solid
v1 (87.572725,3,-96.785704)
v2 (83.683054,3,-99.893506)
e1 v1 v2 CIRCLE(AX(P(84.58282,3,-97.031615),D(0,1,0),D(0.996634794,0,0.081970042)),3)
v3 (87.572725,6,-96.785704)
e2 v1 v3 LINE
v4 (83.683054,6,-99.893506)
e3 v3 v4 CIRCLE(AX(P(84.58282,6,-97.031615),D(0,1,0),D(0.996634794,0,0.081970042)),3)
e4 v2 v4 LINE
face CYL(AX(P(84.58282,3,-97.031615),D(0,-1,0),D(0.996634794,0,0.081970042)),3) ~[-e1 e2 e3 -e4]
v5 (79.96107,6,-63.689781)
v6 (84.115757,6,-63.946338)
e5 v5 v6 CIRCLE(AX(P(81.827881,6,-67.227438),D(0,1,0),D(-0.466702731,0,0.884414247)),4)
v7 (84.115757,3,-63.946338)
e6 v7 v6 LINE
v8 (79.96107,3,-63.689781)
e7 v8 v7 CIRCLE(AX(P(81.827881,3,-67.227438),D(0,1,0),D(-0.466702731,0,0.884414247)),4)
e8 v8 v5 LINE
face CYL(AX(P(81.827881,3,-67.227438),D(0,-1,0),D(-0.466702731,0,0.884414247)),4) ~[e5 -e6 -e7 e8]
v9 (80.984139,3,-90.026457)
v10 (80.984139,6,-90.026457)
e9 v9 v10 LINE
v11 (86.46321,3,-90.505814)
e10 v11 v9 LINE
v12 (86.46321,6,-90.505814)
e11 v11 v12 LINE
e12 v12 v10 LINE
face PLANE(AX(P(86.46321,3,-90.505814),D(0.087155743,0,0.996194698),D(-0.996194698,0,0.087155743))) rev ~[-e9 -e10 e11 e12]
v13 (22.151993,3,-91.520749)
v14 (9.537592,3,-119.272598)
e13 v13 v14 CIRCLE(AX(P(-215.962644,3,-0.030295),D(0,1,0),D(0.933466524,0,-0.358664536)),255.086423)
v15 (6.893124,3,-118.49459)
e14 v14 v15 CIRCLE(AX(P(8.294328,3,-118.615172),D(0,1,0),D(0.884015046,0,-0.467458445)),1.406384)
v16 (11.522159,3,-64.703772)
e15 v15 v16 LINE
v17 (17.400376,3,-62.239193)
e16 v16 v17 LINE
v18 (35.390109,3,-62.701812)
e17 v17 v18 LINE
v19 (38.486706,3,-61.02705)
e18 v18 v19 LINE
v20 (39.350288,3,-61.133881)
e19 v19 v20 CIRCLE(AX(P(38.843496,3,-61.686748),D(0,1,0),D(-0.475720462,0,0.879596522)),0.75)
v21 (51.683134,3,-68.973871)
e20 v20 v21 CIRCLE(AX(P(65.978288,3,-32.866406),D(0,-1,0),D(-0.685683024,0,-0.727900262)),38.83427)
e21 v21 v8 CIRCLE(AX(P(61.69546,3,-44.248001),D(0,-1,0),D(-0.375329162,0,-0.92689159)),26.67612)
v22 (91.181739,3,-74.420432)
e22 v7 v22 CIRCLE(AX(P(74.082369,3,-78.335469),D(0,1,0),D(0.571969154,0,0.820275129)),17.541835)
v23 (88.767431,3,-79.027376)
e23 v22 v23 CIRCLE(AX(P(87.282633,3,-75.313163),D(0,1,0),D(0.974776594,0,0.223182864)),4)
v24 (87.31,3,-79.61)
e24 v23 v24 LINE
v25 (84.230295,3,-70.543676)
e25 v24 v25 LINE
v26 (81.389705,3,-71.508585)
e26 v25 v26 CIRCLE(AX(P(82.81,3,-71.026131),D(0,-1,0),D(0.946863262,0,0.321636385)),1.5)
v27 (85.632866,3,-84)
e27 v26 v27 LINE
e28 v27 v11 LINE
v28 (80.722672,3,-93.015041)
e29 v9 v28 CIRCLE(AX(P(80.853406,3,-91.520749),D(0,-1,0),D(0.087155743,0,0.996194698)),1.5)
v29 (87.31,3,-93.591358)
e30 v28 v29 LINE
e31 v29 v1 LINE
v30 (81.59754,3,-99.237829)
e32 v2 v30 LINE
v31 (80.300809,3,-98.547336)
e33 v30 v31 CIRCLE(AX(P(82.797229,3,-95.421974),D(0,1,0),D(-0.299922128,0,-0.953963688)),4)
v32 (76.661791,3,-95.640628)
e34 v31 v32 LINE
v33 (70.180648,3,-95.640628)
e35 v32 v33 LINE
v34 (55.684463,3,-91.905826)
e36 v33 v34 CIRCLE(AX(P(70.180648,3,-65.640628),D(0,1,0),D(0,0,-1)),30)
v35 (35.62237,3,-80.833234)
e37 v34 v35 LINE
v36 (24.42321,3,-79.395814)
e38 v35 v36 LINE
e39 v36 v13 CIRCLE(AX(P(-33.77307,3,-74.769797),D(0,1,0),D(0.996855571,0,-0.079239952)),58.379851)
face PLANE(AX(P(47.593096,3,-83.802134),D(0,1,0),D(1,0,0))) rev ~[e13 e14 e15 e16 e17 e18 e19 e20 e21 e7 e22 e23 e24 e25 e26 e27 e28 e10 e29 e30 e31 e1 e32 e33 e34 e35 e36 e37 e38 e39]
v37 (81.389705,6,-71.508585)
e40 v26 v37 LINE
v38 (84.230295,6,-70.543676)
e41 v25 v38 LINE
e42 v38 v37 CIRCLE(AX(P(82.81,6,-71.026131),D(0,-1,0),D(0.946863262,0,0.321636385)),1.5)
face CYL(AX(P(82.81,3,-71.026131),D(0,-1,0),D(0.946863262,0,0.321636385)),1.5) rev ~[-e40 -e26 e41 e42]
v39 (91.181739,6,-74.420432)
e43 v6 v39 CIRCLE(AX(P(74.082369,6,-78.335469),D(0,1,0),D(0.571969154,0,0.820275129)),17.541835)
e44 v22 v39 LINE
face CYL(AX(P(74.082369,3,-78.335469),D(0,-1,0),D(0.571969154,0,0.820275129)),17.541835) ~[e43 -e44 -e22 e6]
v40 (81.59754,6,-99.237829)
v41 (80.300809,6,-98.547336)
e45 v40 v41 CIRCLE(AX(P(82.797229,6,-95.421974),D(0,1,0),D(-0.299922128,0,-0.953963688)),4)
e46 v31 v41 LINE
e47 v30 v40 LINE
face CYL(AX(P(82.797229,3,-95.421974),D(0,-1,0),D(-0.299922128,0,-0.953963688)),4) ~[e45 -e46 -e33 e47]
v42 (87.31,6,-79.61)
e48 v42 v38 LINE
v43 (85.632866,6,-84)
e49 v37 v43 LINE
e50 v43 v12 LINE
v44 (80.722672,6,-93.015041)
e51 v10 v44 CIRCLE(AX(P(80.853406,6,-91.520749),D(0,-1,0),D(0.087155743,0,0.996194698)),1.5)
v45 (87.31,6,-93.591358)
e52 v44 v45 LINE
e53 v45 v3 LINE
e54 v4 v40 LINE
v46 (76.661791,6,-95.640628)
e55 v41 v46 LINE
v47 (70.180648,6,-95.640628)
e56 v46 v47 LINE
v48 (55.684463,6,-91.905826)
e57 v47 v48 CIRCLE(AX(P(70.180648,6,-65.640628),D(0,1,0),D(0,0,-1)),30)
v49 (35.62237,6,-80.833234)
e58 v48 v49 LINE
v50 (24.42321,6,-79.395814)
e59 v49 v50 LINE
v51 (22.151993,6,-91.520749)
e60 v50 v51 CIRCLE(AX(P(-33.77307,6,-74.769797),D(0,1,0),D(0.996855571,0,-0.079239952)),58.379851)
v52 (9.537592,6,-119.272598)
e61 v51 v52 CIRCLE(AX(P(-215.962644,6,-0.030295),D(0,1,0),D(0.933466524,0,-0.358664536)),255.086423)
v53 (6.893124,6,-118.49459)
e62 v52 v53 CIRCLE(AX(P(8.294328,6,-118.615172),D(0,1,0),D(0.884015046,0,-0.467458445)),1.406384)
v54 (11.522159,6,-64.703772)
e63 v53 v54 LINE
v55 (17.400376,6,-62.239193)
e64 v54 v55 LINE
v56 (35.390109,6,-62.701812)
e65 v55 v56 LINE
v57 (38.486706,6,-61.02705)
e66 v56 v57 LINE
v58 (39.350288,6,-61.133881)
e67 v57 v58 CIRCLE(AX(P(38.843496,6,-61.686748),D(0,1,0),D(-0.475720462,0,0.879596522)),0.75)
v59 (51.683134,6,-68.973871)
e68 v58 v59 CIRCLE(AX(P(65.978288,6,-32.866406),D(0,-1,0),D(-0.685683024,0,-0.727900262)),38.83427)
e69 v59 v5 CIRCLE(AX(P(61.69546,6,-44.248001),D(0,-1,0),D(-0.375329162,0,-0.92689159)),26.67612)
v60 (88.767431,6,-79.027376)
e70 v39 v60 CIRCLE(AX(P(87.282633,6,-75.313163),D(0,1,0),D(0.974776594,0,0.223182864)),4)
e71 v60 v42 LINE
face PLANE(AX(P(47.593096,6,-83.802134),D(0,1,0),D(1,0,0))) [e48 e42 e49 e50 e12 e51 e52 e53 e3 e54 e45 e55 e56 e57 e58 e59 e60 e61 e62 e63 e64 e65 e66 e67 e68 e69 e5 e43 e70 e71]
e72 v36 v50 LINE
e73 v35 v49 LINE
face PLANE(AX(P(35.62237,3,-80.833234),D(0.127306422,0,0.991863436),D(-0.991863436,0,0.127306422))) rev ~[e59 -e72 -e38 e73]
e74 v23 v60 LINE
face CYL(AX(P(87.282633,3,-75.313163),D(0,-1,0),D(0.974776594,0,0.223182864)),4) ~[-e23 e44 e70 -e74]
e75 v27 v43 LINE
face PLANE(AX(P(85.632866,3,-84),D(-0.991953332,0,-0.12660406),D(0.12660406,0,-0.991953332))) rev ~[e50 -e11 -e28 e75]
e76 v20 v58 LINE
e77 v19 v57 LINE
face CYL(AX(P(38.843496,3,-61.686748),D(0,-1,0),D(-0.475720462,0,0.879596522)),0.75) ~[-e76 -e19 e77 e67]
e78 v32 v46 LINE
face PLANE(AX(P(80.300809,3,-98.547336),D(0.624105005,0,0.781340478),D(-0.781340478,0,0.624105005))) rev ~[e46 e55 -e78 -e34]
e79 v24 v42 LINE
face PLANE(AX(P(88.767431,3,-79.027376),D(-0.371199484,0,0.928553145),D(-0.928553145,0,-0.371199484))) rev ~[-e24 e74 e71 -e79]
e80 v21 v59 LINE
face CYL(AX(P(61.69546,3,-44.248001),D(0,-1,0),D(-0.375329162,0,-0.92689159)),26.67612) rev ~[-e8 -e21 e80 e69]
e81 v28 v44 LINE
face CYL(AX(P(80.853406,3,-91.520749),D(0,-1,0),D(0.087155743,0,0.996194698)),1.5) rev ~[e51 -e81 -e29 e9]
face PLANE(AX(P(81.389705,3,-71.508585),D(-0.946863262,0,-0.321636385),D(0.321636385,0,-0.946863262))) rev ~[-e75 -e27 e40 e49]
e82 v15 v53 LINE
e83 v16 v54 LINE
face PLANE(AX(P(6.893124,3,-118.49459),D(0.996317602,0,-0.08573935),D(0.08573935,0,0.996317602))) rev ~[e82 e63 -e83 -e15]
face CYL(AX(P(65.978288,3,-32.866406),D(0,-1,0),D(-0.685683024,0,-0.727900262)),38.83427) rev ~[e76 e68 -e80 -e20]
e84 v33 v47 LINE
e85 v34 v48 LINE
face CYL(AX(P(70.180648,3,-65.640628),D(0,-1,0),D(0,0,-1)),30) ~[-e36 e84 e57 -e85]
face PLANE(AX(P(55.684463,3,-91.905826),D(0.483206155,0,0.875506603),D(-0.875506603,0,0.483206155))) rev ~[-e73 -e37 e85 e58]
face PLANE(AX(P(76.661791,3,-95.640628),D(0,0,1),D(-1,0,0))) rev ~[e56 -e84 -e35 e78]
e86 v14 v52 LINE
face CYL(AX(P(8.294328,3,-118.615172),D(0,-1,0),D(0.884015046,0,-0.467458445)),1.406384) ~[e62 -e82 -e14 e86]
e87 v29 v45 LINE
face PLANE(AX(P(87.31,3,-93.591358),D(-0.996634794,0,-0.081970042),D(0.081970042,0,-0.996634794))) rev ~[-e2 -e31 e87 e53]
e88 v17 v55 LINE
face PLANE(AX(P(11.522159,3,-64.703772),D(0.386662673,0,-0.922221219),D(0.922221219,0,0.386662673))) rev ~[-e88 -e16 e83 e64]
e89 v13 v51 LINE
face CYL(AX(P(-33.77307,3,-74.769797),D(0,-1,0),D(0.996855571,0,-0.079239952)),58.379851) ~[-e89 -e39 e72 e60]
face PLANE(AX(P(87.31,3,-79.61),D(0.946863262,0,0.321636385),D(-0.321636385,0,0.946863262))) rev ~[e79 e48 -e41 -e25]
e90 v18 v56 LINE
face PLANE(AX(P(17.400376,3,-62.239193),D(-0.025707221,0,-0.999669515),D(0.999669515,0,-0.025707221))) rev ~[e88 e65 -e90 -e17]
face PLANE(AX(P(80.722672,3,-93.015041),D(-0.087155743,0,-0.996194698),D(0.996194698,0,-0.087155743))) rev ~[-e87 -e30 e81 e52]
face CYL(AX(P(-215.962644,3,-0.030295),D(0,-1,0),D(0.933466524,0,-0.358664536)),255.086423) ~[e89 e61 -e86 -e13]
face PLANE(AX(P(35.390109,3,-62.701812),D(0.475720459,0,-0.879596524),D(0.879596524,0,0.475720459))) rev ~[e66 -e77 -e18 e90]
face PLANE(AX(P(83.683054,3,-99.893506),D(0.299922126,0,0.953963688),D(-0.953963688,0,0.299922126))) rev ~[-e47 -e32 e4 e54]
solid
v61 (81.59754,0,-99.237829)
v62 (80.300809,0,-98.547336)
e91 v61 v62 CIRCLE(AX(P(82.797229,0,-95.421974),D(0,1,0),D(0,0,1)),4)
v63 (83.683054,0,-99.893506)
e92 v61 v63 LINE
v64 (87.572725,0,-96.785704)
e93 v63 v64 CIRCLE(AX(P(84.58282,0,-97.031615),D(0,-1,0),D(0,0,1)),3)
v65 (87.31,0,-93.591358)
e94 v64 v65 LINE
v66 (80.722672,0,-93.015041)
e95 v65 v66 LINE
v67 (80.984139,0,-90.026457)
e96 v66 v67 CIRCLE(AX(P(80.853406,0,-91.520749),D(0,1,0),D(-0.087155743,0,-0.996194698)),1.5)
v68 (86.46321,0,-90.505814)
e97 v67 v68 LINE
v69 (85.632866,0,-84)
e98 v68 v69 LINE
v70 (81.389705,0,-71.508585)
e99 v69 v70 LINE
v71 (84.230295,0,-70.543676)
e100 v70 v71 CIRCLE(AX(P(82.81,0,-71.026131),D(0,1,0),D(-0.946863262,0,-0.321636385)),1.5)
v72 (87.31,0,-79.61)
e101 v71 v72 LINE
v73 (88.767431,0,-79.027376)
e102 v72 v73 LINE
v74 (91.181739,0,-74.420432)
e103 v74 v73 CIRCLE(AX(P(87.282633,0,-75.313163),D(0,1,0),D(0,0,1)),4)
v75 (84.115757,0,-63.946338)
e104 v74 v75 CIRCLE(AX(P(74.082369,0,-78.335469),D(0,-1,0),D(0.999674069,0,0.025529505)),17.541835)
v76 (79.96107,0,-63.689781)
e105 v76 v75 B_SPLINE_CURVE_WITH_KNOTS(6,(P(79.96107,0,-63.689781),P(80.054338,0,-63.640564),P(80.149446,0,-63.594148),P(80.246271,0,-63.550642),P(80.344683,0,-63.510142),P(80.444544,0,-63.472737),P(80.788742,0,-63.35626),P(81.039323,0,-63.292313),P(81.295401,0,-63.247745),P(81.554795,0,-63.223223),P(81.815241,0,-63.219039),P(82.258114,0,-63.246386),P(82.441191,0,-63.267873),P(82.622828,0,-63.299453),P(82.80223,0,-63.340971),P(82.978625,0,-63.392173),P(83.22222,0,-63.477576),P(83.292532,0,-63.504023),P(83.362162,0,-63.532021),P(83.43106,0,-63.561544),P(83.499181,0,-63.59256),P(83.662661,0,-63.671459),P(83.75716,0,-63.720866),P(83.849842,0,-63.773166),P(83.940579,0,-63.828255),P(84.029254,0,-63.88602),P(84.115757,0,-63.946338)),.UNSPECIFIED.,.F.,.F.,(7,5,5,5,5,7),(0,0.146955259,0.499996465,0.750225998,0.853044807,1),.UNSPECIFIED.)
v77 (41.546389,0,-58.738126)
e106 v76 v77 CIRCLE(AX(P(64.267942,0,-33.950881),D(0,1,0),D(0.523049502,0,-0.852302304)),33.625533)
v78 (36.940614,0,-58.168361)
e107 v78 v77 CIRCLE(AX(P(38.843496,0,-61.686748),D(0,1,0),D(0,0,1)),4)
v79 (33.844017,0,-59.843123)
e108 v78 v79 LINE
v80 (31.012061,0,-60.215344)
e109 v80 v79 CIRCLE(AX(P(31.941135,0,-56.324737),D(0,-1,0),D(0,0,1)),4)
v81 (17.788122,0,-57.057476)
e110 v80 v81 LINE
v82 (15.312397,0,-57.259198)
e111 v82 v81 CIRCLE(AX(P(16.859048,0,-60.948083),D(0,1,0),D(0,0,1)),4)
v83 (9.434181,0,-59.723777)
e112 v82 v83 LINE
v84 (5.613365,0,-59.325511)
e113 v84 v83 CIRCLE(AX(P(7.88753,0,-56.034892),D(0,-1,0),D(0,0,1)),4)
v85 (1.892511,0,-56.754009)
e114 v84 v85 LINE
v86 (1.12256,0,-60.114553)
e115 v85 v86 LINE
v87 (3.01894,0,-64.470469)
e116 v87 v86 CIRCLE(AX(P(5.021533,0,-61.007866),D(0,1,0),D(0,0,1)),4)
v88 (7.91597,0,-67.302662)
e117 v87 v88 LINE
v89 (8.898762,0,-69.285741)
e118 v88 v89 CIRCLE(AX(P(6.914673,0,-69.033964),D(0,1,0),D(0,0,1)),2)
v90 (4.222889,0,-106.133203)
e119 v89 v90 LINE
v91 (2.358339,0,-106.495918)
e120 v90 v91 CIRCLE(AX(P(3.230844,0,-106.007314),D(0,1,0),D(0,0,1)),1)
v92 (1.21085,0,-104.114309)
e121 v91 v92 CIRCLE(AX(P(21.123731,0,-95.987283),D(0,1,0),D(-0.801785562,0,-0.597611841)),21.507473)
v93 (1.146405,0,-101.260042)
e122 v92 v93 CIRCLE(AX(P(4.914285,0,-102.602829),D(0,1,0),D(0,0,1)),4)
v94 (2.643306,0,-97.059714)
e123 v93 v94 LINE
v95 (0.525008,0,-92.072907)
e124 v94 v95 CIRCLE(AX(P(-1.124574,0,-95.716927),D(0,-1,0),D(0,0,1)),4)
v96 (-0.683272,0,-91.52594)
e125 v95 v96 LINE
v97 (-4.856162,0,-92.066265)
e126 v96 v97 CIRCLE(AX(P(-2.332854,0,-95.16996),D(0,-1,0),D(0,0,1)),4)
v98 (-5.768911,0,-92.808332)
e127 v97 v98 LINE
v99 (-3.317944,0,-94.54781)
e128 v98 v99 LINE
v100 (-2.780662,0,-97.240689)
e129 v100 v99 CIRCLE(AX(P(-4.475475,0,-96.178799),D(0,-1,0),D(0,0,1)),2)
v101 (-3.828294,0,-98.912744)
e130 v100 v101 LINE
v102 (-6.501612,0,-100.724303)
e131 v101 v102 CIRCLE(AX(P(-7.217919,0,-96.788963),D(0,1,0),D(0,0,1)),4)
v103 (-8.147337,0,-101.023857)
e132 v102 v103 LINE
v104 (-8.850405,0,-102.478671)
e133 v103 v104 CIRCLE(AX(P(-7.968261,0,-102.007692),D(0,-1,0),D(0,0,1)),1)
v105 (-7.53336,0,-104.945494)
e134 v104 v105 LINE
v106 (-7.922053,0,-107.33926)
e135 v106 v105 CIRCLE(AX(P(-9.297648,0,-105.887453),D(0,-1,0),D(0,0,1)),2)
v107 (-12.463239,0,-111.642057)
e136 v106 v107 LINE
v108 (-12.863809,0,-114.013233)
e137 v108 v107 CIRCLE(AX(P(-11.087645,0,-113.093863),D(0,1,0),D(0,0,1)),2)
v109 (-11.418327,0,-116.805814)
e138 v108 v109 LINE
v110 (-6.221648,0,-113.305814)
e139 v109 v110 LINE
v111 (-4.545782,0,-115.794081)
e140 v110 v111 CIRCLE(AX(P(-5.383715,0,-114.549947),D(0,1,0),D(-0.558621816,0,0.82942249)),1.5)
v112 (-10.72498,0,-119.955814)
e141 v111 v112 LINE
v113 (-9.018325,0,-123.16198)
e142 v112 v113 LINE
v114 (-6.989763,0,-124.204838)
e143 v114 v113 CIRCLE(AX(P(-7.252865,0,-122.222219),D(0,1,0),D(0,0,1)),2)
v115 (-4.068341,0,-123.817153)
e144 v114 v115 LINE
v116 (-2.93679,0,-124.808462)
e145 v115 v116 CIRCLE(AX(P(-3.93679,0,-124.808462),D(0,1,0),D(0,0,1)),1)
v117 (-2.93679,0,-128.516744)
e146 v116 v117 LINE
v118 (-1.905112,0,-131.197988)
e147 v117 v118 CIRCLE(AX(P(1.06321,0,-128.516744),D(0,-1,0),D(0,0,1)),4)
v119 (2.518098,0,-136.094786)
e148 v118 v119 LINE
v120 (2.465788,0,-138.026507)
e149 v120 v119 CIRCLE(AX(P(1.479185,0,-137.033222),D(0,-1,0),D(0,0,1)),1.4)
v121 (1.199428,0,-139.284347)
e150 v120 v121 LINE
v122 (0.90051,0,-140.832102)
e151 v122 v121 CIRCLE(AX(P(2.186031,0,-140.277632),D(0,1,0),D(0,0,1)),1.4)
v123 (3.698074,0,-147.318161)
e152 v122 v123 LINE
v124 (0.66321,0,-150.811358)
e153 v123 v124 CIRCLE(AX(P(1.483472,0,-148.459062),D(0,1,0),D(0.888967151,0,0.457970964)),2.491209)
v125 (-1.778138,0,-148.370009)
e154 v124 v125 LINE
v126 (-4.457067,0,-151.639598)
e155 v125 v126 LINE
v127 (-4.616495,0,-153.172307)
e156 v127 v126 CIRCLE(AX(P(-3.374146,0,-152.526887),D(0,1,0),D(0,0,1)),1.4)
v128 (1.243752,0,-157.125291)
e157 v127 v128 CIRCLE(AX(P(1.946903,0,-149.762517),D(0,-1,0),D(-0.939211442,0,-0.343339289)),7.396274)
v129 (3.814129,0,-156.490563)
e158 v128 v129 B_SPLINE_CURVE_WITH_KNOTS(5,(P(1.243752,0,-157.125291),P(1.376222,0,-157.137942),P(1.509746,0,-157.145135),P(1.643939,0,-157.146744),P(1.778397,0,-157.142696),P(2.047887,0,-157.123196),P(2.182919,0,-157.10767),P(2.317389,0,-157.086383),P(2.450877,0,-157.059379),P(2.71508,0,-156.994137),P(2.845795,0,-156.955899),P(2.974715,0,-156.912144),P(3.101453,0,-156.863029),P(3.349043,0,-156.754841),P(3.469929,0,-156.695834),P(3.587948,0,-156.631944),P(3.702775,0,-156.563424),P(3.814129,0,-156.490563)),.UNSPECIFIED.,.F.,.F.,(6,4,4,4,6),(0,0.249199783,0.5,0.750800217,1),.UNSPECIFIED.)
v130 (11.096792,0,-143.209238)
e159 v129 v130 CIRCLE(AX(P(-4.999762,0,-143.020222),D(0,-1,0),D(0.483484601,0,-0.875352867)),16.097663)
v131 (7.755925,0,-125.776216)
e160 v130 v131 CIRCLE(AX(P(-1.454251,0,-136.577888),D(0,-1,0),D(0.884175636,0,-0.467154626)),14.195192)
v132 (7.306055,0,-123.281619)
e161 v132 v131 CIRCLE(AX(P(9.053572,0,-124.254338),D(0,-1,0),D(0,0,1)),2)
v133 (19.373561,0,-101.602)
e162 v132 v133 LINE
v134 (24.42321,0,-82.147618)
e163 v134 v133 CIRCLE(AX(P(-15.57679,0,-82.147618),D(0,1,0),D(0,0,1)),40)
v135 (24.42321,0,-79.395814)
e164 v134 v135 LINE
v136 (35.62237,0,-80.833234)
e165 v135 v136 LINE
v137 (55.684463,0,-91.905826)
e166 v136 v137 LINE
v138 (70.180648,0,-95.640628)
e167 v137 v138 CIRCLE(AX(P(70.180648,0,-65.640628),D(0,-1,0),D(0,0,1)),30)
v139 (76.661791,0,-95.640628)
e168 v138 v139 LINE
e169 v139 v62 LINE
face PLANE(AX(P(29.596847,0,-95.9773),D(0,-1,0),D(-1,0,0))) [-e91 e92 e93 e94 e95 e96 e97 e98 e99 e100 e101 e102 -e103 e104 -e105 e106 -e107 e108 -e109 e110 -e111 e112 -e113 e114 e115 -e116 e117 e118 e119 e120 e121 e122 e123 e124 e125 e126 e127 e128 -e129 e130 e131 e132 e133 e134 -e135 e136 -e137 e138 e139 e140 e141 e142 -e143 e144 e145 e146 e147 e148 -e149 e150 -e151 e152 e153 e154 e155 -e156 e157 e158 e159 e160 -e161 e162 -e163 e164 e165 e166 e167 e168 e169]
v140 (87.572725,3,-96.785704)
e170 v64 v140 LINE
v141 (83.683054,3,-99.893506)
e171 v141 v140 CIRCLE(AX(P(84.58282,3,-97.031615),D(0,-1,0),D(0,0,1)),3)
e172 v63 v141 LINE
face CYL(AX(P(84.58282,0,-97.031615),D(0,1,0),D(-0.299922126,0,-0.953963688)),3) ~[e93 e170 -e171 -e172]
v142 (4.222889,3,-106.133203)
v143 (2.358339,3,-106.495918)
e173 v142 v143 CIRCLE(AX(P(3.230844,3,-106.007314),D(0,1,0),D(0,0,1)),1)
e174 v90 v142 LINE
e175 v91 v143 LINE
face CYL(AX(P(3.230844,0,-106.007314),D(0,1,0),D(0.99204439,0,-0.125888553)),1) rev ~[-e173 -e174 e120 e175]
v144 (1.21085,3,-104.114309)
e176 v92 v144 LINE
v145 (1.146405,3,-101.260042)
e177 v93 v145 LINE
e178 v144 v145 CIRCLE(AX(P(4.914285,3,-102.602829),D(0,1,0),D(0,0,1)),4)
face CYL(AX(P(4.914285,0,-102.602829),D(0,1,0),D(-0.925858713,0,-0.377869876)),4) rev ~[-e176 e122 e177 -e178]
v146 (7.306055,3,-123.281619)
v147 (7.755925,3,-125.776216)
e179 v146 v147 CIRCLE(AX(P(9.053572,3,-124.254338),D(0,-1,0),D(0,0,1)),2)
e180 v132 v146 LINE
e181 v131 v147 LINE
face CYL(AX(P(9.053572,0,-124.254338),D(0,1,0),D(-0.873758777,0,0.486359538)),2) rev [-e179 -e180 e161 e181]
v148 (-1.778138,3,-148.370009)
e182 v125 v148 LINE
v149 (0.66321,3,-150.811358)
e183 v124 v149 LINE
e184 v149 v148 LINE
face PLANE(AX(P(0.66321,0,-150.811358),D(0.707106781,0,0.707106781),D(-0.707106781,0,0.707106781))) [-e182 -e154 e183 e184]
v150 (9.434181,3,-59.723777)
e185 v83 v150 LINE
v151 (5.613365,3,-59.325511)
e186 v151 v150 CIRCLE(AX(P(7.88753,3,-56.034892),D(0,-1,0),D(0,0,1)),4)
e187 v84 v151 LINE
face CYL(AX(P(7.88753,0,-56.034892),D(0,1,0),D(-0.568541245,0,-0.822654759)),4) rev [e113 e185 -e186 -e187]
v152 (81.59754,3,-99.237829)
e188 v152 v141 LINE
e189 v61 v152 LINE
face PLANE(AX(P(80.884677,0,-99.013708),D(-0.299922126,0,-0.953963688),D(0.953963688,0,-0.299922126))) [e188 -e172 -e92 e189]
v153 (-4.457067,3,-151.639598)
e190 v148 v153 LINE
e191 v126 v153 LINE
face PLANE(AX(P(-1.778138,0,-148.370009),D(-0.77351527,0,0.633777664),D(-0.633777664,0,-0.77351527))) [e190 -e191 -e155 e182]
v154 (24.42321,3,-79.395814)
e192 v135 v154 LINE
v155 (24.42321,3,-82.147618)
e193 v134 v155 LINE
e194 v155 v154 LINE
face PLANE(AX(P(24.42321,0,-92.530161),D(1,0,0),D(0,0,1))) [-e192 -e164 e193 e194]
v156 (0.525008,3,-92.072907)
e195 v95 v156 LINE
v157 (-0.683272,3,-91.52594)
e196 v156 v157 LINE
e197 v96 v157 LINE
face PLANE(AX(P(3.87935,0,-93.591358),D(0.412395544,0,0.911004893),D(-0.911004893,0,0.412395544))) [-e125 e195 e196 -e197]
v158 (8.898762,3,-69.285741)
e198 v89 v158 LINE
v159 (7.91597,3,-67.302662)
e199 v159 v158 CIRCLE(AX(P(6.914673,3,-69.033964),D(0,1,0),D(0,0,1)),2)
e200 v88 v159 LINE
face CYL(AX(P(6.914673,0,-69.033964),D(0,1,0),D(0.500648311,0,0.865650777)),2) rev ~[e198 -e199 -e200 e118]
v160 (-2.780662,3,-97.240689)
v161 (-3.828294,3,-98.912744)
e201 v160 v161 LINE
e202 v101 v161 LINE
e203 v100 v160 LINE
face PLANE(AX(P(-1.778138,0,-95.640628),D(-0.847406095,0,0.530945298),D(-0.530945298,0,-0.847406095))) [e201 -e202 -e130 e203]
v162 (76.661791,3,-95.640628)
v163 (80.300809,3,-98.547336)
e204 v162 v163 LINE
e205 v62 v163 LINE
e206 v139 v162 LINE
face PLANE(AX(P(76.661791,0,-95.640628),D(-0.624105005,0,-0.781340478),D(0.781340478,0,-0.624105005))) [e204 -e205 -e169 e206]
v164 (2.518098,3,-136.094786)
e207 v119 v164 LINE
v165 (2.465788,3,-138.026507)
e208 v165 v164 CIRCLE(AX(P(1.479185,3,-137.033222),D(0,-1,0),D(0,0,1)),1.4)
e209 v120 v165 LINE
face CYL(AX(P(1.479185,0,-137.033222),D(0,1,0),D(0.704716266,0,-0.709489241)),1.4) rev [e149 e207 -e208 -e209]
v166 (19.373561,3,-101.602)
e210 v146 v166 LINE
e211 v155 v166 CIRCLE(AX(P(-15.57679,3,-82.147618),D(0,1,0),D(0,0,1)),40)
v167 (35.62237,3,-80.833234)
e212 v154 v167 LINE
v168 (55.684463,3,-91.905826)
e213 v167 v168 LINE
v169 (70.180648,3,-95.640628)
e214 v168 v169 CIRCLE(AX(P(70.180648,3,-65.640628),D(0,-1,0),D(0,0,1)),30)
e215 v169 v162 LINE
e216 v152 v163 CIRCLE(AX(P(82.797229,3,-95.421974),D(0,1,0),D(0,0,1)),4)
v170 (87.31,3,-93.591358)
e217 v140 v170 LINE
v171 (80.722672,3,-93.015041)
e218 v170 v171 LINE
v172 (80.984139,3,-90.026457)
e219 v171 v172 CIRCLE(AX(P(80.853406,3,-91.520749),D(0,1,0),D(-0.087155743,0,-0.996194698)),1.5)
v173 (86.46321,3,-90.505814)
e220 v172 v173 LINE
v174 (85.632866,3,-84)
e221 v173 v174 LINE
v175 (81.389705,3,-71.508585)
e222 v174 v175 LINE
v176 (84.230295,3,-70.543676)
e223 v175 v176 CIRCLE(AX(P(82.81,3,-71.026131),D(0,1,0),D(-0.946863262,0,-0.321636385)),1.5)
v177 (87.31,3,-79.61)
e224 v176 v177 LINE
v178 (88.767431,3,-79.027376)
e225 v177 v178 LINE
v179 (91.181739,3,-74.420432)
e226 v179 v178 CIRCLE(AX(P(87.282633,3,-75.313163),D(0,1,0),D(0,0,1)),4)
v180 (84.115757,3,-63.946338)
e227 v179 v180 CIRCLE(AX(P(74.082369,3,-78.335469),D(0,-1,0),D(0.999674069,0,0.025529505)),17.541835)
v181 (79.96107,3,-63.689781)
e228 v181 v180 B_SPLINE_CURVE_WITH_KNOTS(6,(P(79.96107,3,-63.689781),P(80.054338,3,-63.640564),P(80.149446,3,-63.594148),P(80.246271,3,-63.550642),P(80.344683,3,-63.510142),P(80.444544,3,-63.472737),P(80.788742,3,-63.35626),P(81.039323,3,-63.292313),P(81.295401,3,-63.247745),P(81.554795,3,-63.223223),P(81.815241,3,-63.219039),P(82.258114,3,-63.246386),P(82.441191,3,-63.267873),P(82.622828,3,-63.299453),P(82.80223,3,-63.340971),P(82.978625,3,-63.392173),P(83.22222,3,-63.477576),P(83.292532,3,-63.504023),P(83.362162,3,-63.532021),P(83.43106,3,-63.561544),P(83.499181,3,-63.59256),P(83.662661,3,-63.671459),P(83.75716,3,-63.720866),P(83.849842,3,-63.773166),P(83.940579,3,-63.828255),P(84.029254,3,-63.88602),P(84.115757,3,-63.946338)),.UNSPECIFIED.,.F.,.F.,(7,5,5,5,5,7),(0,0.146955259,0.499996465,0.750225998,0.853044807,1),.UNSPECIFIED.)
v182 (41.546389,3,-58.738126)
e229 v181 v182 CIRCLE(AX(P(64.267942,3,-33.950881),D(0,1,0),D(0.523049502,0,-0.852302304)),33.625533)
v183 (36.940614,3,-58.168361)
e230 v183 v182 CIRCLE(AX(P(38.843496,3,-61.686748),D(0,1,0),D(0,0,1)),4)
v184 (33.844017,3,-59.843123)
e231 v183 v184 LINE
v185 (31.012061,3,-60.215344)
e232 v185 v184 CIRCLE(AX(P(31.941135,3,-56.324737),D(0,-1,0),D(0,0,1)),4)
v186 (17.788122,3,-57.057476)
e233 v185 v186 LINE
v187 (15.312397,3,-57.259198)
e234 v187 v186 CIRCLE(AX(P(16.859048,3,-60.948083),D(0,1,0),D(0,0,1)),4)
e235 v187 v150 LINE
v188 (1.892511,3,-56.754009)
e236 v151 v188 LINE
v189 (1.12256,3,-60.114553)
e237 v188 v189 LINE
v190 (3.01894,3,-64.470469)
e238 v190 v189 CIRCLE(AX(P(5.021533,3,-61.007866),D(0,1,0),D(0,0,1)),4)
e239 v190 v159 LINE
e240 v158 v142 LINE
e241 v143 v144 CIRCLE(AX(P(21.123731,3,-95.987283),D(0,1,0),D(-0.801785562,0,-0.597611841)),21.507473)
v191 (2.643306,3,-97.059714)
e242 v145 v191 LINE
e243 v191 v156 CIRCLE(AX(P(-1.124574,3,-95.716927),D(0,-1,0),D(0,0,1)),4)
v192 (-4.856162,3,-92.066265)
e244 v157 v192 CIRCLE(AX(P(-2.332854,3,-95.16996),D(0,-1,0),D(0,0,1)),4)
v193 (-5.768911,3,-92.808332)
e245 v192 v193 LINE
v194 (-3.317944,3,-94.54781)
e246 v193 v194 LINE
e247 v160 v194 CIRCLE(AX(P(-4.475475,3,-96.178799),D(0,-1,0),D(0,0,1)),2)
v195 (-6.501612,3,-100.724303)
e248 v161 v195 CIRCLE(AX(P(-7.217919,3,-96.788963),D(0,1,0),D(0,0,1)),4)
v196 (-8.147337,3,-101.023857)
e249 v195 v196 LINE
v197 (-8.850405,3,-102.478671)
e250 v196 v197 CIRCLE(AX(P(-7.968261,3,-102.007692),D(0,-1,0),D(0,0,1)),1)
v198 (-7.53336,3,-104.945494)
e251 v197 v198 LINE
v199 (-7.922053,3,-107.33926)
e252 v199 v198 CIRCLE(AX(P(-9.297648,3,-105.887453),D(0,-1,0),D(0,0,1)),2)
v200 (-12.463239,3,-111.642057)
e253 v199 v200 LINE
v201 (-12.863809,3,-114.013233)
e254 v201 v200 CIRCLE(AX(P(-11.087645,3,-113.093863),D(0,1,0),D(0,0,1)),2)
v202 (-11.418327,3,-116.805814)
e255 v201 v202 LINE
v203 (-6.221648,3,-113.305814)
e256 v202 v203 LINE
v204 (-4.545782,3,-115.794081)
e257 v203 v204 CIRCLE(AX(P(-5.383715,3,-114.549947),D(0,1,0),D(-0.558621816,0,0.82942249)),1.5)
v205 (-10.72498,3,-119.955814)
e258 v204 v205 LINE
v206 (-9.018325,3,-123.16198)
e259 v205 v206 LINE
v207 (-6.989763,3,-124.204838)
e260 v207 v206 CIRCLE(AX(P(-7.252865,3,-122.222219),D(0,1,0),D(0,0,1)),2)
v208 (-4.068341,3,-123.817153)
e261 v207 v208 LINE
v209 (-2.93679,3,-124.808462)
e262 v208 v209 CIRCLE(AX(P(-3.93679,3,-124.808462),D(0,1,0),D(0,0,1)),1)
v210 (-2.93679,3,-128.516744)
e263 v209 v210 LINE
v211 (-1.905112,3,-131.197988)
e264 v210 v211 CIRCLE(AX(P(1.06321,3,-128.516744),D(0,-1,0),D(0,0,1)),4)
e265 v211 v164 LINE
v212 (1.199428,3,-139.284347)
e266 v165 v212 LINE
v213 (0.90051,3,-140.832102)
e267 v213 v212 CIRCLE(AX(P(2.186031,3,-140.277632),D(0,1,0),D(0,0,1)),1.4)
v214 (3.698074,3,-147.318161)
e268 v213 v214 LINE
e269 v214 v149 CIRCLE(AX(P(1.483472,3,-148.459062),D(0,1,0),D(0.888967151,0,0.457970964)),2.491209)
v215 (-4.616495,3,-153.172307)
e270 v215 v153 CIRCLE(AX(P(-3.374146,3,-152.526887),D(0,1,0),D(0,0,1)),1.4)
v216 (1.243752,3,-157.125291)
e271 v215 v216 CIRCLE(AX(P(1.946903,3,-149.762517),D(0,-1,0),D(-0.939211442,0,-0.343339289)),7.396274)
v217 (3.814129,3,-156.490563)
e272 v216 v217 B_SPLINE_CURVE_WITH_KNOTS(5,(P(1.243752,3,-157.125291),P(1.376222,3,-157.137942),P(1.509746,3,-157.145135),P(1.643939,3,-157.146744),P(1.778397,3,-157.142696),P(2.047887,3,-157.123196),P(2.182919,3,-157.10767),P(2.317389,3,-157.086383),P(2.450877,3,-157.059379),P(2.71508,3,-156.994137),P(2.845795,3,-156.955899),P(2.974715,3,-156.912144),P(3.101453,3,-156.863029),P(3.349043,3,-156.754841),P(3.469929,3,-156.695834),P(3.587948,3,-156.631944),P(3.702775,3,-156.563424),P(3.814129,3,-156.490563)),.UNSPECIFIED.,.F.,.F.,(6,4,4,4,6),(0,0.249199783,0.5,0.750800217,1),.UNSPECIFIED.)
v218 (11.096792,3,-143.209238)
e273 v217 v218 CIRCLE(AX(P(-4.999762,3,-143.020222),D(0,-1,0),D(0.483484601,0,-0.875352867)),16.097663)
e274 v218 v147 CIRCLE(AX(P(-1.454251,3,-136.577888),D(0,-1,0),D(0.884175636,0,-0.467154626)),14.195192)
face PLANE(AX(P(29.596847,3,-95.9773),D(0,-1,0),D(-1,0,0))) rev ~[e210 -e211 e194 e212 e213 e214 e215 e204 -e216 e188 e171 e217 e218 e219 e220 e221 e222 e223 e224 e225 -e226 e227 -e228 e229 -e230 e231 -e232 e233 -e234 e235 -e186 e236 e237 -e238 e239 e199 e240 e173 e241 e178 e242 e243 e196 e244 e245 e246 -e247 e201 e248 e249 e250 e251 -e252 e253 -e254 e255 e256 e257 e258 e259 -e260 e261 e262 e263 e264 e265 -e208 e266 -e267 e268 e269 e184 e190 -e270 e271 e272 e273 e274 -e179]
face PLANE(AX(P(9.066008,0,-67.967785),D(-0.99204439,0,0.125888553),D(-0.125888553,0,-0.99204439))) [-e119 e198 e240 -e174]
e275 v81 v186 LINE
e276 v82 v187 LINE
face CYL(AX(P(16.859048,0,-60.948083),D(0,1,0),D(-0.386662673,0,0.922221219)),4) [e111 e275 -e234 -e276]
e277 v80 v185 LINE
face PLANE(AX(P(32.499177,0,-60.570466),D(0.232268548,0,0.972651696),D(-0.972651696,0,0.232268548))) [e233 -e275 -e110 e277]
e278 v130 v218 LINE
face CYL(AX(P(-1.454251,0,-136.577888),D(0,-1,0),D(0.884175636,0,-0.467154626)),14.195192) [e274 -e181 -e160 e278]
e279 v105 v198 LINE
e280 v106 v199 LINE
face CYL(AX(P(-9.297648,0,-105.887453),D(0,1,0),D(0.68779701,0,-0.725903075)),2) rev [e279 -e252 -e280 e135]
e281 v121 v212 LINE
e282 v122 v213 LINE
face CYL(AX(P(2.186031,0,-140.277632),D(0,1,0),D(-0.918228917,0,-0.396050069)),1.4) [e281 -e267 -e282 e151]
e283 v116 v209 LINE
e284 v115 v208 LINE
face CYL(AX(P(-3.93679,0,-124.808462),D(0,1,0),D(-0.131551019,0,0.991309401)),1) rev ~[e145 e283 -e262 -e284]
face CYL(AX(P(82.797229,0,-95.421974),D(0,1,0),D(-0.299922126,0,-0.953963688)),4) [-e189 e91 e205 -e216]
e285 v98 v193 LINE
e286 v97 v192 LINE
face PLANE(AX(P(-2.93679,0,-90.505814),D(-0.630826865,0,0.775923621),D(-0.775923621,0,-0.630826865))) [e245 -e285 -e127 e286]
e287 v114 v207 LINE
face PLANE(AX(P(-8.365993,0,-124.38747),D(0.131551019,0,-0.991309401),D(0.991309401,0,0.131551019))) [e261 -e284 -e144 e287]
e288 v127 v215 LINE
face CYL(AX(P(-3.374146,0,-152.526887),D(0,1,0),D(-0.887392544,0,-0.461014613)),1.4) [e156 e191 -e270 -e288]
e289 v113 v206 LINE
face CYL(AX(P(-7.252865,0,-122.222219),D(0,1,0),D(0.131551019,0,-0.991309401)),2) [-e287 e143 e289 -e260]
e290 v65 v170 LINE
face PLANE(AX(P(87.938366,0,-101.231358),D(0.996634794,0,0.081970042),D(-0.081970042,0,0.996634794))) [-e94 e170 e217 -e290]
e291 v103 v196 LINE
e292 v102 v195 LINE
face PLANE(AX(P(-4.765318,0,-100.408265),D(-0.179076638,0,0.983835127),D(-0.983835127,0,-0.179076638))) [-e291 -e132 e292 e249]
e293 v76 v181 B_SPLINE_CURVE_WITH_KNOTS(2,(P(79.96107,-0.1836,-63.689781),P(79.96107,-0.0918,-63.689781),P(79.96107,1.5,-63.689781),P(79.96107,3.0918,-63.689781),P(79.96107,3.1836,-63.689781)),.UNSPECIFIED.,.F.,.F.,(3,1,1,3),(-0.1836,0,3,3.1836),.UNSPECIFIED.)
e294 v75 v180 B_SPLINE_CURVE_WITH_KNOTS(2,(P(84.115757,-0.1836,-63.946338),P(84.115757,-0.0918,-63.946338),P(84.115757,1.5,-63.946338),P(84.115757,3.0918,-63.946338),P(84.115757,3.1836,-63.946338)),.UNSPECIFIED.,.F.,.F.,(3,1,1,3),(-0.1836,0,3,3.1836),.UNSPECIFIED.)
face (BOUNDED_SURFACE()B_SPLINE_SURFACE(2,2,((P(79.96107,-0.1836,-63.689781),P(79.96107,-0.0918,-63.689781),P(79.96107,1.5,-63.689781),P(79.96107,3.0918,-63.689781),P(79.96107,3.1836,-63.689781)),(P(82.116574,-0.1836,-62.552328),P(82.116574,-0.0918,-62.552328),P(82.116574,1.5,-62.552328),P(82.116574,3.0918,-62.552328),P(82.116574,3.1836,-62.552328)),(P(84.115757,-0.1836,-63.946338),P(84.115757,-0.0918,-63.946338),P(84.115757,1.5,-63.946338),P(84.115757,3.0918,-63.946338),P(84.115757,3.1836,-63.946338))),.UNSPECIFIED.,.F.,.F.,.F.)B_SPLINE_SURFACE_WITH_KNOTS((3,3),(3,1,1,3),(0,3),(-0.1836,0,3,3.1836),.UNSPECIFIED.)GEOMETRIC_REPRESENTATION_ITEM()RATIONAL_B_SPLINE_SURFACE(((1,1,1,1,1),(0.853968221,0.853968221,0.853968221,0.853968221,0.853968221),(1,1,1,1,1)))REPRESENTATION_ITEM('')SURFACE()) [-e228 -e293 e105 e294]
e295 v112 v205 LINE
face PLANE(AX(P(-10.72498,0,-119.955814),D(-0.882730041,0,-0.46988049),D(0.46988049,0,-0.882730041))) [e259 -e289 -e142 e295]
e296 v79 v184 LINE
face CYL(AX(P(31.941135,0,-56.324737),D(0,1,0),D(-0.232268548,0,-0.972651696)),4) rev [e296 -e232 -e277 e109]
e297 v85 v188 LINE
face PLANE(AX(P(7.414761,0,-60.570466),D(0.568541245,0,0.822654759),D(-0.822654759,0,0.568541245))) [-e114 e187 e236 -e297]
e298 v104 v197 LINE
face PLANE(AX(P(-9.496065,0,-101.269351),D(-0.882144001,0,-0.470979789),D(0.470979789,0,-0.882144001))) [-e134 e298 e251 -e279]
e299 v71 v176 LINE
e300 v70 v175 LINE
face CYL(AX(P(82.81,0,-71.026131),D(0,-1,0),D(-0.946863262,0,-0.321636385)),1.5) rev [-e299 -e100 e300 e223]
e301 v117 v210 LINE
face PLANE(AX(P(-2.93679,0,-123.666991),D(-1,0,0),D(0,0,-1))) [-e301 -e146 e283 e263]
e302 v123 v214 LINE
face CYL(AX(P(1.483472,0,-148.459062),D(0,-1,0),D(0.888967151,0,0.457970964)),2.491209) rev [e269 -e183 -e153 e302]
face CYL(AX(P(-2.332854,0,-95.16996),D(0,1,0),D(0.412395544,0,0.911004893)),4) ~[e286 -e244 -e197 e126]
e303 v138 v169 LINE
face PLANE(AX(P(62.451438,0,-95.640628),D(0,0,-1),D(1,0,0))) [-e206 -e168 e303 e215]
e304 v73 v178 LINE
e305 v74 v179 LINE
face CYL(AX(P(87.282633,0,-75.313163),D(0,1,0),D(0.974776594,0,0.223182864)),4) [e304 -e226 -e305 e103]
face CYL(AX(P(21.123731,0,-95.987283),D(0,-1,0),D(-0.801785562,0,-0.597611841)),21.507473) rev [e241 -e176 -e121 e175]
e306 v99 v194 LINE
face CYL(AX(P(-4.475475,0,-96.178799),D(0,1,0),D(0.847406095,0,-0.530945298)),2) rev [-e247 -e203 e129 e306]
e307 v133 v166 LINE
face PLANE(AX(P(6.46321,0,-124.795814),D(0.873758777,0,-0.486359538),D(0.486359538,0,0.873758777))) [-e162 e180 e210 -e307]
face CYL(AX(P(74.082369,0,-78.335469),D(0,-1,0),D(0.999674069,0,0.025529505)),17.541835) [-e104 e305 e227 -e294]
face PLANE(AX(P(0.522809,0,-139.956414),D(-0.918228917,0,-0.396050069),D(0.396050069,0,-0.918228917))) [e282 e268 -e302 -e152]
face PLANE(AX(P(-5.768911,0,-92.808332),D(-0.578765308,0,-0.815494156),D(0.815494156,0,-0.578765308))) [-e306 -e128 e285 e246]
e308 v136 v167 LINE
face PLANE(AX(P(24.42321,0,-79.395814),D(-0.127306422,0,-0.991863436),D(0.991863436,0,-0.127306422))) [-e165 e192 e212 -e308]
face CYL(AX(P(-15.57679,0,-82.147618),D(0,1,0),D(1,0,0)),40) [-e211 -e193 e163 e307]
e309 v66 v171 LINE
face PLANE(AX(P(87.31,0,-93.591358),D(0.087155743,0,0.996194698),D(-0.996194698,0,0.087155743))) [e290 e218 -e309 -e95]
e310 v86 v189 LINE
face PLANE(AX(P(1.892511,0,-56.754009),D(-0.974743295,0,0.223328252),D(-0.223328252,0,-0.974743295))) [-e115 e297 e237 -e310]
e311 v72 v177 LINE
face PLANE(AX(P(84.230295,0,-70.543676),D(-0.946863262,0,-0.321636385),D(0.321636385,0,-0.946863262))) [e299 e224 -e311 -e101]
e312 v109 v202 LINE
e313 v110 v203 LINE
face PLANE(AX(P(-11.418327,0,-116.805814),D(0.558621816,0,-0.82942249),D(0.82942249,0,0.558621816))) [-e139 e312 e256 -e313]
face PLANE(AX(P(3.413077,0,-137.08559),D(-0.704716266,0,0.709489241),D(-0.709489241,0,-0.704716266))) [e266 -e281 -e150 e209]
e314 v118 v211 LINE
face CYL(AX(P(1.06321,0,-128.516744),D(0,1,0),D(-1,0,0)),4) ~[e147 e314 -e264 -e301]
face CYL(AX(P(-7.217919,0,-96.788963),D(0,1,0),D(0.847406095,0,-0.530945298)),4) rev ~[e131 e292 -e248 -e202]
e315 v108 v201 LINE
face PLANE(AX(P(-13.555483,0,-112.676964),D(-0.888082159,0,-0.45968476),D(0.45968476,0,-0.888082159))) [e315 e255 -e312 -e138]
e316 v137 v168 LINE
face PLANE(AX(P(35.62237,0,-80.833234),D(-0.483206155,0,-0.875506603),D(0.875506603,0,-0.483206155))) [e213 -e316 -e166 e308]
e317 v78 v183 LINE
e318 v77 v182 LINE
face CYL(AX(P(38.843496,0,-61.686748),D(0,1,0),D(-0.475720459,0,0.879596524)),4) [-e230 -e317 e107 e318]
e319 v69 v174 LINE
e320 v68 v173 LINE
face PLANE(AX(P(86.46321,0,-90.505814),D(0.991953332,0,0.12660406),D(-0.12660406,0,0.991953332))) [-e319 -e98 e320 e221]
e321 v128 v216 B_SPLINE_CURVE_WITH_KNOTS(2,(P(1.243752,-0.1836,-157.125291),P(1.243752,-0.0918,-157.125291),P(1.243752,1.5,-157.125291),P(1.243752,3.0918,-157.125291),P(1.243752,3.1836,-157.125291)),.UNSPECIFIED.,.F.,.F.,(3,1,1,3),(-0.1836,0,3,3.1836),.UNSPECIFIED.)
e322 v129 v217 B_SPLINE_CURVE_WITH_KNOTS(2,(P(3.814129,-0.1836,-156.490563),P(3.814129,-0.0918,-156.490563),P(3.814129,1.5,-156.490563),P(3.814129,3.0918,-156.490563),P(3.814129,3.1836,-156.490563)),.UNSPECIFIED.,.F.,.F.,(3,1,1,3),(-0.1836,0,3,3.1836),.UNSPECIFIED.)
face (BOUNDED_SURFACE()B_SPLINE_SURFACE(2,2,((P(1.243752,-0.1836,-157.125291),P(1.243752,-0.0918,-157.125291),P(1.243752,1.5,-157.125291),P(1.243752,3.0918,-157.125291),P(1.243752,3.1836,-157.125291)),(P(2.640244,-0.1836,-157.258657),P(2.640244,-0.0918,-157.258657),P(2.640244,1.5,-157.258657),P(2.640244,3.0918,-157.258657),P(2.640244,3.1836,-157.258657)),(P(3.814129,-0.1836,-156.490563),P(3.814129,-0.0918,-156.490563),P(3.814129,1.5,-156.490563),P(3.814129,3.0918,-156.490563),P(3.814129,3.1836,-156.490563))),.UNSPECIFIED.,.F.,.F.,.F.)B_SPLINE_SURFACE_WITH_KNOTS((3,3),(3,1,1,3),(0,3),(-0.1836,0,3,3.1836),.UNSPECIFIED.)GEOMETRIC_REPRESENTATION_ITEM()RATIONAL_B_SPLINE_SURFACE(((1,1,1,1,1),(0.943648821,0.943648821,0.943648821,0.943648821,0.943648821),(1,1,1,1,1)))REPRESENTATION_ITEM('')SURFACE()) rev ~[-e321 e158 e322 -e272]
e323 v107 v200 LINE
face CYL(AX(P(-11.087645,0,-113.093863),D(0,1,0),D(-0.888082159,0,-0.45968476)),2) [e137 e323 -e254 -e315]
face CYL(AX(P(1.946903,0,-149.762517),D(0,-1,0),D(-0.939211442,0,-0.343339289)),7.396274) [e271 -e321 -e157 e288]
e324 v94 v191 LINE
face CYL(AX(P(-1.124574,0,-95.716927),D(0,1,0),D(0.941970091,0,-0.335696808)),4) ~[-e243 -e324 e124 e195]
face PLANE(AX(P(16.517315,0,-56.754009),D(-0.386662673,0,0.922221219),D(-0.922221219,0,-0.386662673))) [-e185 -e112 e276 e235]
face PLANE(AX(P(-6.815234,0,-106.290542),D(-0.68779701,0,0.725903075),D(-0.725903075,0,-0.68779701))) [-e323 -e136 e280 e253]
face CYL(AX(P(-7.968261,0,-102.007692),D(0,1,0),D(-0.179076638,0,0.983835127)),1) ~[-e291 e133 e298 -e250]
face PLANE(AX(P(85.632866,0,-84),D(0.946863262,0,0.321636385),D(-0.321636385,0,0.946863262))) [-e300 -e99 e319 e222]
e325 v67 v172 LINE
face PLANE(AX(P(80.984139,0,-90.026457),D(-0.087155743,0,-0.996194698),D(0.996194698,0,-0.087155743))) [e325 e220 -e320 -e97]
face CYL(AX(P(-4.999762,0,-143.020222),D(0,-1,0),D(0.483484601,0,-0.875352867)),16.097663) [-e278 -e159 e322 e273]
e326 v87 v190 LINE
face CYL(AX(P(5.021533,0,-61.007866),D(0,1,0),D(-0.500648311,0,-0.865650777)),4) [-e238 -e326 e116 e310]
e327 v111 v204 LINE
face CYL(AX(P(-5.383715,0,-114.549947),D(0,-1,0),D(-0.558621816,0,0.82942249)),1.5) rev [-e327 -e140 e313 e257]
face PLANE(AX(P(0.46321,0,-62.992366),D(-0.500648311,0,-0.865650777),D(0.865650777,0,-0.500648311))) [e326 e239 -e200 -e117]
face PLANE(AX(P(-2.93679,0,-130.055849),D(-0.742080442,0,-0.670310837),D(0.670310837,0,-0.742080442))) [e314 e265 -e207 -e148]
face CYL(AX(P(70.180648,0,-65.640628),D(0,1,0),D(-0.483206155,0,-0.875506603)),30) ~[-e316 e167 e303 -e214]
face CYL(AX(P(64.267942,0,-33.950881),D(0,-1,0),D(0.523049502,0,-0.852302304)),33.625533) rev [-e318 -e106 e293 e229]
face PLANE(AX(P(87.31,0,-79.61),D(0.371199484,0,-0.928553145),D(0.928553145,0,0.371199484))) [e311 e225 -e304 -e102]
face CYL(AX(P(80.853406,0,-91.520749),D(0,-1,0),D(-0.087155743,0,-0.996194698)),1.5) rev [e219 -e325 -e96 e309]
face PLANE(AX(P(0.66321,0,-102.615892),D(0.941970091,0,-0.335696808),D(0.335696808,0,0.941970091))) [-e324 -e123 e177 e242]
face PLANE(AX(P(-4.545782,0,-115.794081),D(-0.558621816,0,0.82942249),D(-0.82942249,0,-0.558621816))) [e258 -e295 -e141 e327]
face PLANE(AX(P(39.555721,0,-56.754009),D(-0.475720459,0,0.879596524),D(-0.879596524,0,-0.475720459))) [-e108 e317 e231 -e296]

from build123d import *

# Parameters (mm, degrees)
BOSS_EXTRUDE2_DEPTH = 3
FILLET1_R           = 1
FILLET2_R           = 4
FILLET3_R           = 40
FILLET4_R           = 2
FILLET5_R           = 1.4
FILLET6_R           = 30
FILLET7_R           = 3
BOSS_EXTRUDE3_DEPTH = 3


with BuildPart() as part:
    # Sketch4 → Boss-Extrude2 (new body)
    with BuildSketch(Plane(origin=(0, 0, 0), x_dir=(1, 0, 0), z_dir=(0, 1, 0))):
        with BuildLine():
            Line((87.31, 79.61), (91.618486592, 77.887634392))
            ThreePointArc((91.618486592, 77.887634392), (88.863922918, 68.889748023), (81.855760182, 62.61))
            ThreePointArc((81.855760182, 62.61), (59.656820918, 67.258748235), (39.555721251, 56.754008505))
            Line((39.555721251, 56.754008505), (32.499176634, 60.570465889))
            Line((32.499176634, 60.570465889), (16.517315238, 56.754008505))
            Line((16.517315238, 56.754008505), (7.414760931, 60.570465889))
            Line((7.414760931, 60.570465889), (1.892511031, 56.754008505))
            Line((1.892511031, 56.754008505), (0.46321022, 62.992365596))
            Line((0.46321022, 62.992365596), (9.066007765, 67.967785451))
            Line((9.066007765, 67.967785451), (3.879350061, 108.84040305))
            ThreePointArc((3.879350061, 108.84040305), (2.01611376, 105.85998951), (0.66321022, 102.615892348))
            Line((0.66321022, 102.615892348), (3.879350061, 93.591357519))
            Line((3.879350061, 93.591357519), (-2.93678978, 90.505813501))
            Line((-2.93678978, 90.505813501), (-5.768910997, 92.808331559))
            Line((-5.768910997, 92.808331559), (-1.778138145, 95.640627614))
            Line((-1.778138145, 95.640627614), (-4.765318246, 100.408264948))
            Line((-4.765318246, 100.408264948), (-9.496065378, 101.269350579))
            Line((-9.496065378, 101.269350579), (-6.815233616, 106.290541956))
            Line((-6.815233616, 106.290541956), (-13.555482626, 112.676963609))
            Line((-13.555482626, 112.676963609), (-11.418327461, 116.805813501))
            Line((-11.418327461, 116.805813501), (-6.221647651, 113.305813501))
            ThreePointArc((-6.221647651, 113.305813501), (-4.139581192, 113.712014511), (-4.545782202, 115.79408097))
            Line((-4.545782202, 115.79408097), (-10.724979751, 119.955813501))
            Line((-10.724979751, 119.955813501), (-8.365992616, 124.387469749))
            Line((-8.365992616, 124.387469749), (-2.93678978, 123.666991194))
            Line((-2.93678978, 123.666991194), (-2.93678978, 130.055848545))
            Line((-2.93678978, 130.055848545), (3.413077147, 137.08559026))
            Line((3.413077147, 137.08559026), (0.522809133, 139.95641446))
            Line((0.522809133, 139.95641446), (3.698074275, 147.318161123))
            ThreePointArc((3.698074275, 147.318161123), (3.364070449, 150.092913281), (0.66321022, 150.811357519))
            Line((0.66321022, 150.811357519), (-1.778138145, 148.370009154))
            Line((-1.778138145, 148.370009154), (-4.999762187, 152.301948586))
            ThreePointArc((-4.999762187, 152.301948586), (-1.941119995, 156.054428227), (2.78321022, 157.111357519))
            ThreePointArc((2.78321022, 157.111357519), (8.815996079, 151.282158066), (11.096791577, 143.209237691))
            ThreePointArc((11.096791577, 143.209237691), (12.311774437, 133.113784868), (6.46321022, 124.795813501))
            Line((6.46321022, 124.795813501), (24.42321022, 92.530161433))
            Line((24.42321022, 92.530161433), (24.42321022, 79.395813501))
            Line((24.42321022, 79.395813501), (35.622369927, 80.833234121))
            Line((35.622369927, 80.833234121), (62.451437904, 95.640627614))
            Line((62.451437904, 95.640627614), (76.661791259, 95.640627614))
            Line((76.661791259, 95.640627614), (80.884676882, 99.013707758))
            Line((80.884676882, 99.013707758), (87.938365698, 101.231357519))
            Line((87.938365698, 101.231357519), (87.31, 93.591357519))
            Line((87.31, 93.591357519), (80.722672152, 93.01504101))
            ThreePointArc((80.722672152, 93.01504101), (79.359113719, 91.390015348), (80.984139381, 90.026456915))
            Line((80.984139381, 90.026456915), (86.46321022, 90.505813501))
            Line((86.46321022, 90.505813501), (85.632866314, 84))
            Line((85.632866314, 84), (81.389705108, 71.508585308))
            ThreePointArc((81.389705108, 71.508585308), (82.327545423, 69.605835839), (84.230294892, 70.543676154))
            Line((84.230294892, 70.543676154), (87.31, 79.61))
        make_face()
    extrude(amount=BOSS_EXTRUDE2_DEPTH)

    # Fillet1
    fillet1_edges = [part.edges().sort_by_distance(p)[0] for p in [
        (3.879350061, 1.5, -108.84040305),
        (-9.496065378, 1.5, -101.269350579),
        (-2.93678978, 1.5, -123.666991194),
    ]]
    fillet(fillet1_edges, radius=FILLET1_R)

    # Fillet2
    fillet2_edges = [part.edges().sort_by_distance(p)[0] for p in [
        (39.555721251, 1.5, -56.754008505),
        (32.499176634, 1.5, -60.570465889),
        (16.517315238, 1.5, -56.754008505),
        (7.414760931, 1.5, -60.570465889),
        (0.46321022, 1.5, -62.992365596),
        (0.66321022, 1.5, -102.615892348),
        (3.879350061, 1.5, -93.591357519),
        (-2.93678978, 1.5, -90.505813501),
        (-4.765318246, 1.5, -100.408264948),
        (-2.93678978, 1.5, -130.055848545),
        (2.78321022, 1.5, -157.111357519),
        (80.884676882, 1.5, -99.013707758),
        (91.618486592, 1.5, -77.887634392),
        (81.855760182, 1.5, -62.61),
    ]]
    fillet(fillet2_edges, radius=FILLET2_R)

    # Fillet3
    fillet3_edges = [part.edges().sort_by_distance(p)[0] for p in [
        (24.42321022, 1.5, -92.530161433),
    ]]
    fillet(fillet3_edges, radius=FILLET3_R)

    # Fillet4
    fillet4_edges = [part.edges().sort_by_distance(p)[0] for p in [
        (9.066007765, 1.5, -67.967785451),
        (-1.778138145, 1.5, -95.640627614),
        (-6.815233616, 1.5, -106.290541956),
        (-13.555482626, 1.5, -112.676963609),
        (-8.365992616, 1.5, -124.387469749),
        (6.46321022, 1.5, -124.795813501),
    ]]
    fillet(fillet4_edges, radius=FILLET4_R)

    # Fillet5
    fillet5_edges = [part.edges().sort_by_distance(p)[0] for p in [
        (3.413077147, 1.5, -137.08559026),
        (0.522809133, 1.5, -139.95641446),
        (-4.999762187, 1.5, -152.301948586),
    ]]
    fillet(fillet5_edges, radius=FILLET5_R)

    # Fillet6
    fillet6_edges = [part.edges().sort_by_distance(p)[0] for p in [
        (62.451437904, 1.5, -95.640627614),
    ]]
    fillet(fillet6_edges, radius=FILLET6_R)

    # Fillet7
    fillet7_edges = [part.edges().sort_by_distance(p)[0] for p in [
        (87.938365698, 1.5, -101.231357519),
    ]]
    fillet(fillet7_edges, radius=FILLET7_R)


with BuildPart() as body_2:
    # Sketch5 → Boss-Extrude3 (new body)
    with BuildSketch(Plane(origin=(0, 3, 0), x_dir=(1, 0, 0), z_dir=(0, 1, 0))):
        with BuildLine():
            Line((87.31, 79.61), (84.230294892, 70.543676154))
            ThreePointArc((84.230294892, 70.543676154), (82.327545423, 69.605835839), (81.389705108, 71.508585308))
            Line((81.389705108, 71.508585308), (85.632866314, 84))
            Line((85.632866314, 84), (86.46321022, 90.505813501))
            Line((86.46321022, 90.505813501), (80.984139381, 90.026456915))
            ThreePointArc((80.984139381, 90.026456915), (79.359113719, 91.390015348), (80.722672152, 93.01504101))
            Line((80.722672152, 93.01504101), (87.31, 93.591357519))
            Line((87.31, 93.591357519), (87.572724876, 96.785704468))
            ThreePointArc((87.572724876, 96.785704468), (86.455459348, 99.375377321), (83.683054116, 99.893505658))
            Line((83.683054116, 99.893505658), (81.597540254, 99.23782897))
            ThreePointArc((81.597540254, 99.23782897), (80.917202257, 98.952625765), (80.300808738, 98.54733613))
            Line((80.300808738, 98.54733613), (76.661791259, 95.640627614))
            Line((76.661791259, 95.640627614), (70.18064804, 95.640627614))
            ThreePointArc((70.18064804, 95.640627614), (62.69586156, 94.691926575), (55.684463394, 91.905825704))
            Line((55.684463394, 91.905825704), (35.622369927, 80.833234121))
            Line((35.622369927, 80.833234121), (24.42321022, 79.395813501))
            ThreePointArc((24.42321022, 79.395813501), (23.608754268, 85.518438874), (22.151992942, 91.520748963))
            ThreePointArc((22.151992942, 91.520748963), (16.259725713, 105.585278319), (9.537592469, 119.272598135))
            ThreePointArc((9.537592469, 119.272598135), (7.897389311, 119.964377284), (6.893123557, 118.494589854))
            Line((6.893123557, 118.494589854), (11.522159273, 64.703771757))
            Line((11.522159273, 64.703771757), (17.400375916, 62.239192854))
            Line((17.400375916, 62.239192854), (35.390108767, 62.701811781))
            Line((35.390108767, 62.701811781), (38.486705756, 61.027050112))
            ThreePointArc((38.486705756, 61.027050112), (38.935574107, 60.942421204), (39.350288499, 61.133880915))
            ThreePointArc((39.350288499, 61.133880915), (45.144601659, 65.639230218), (51.683133982, 68.973871489))
            ThreePointArc((51.683133982, 68.973871489), (66.59541671, 70.470238781), (79.961069943, 63.689781208))
            ThreePointArc((79.961069943, 63.689781208), (82.074415622, 63.235042849), (84.115757484, 63.946337682))
            ThreePointArc((84.115757484, 63.946337682), (88.624490915, 68.52513407), (91.181739197, 74.42043175))
            ThreePointArc((91.181739197, 74.42043175), (90.825596234, 77.169883499), (88.767430757, 79.027375787))
            Line((88.767430757, 79.027375787), (87.31, 79.61))
        make_face()
    extrude(amount=BOSS_EXTRUDE3_DEPTH)


solid = Compound([part.part, body_2.part])
